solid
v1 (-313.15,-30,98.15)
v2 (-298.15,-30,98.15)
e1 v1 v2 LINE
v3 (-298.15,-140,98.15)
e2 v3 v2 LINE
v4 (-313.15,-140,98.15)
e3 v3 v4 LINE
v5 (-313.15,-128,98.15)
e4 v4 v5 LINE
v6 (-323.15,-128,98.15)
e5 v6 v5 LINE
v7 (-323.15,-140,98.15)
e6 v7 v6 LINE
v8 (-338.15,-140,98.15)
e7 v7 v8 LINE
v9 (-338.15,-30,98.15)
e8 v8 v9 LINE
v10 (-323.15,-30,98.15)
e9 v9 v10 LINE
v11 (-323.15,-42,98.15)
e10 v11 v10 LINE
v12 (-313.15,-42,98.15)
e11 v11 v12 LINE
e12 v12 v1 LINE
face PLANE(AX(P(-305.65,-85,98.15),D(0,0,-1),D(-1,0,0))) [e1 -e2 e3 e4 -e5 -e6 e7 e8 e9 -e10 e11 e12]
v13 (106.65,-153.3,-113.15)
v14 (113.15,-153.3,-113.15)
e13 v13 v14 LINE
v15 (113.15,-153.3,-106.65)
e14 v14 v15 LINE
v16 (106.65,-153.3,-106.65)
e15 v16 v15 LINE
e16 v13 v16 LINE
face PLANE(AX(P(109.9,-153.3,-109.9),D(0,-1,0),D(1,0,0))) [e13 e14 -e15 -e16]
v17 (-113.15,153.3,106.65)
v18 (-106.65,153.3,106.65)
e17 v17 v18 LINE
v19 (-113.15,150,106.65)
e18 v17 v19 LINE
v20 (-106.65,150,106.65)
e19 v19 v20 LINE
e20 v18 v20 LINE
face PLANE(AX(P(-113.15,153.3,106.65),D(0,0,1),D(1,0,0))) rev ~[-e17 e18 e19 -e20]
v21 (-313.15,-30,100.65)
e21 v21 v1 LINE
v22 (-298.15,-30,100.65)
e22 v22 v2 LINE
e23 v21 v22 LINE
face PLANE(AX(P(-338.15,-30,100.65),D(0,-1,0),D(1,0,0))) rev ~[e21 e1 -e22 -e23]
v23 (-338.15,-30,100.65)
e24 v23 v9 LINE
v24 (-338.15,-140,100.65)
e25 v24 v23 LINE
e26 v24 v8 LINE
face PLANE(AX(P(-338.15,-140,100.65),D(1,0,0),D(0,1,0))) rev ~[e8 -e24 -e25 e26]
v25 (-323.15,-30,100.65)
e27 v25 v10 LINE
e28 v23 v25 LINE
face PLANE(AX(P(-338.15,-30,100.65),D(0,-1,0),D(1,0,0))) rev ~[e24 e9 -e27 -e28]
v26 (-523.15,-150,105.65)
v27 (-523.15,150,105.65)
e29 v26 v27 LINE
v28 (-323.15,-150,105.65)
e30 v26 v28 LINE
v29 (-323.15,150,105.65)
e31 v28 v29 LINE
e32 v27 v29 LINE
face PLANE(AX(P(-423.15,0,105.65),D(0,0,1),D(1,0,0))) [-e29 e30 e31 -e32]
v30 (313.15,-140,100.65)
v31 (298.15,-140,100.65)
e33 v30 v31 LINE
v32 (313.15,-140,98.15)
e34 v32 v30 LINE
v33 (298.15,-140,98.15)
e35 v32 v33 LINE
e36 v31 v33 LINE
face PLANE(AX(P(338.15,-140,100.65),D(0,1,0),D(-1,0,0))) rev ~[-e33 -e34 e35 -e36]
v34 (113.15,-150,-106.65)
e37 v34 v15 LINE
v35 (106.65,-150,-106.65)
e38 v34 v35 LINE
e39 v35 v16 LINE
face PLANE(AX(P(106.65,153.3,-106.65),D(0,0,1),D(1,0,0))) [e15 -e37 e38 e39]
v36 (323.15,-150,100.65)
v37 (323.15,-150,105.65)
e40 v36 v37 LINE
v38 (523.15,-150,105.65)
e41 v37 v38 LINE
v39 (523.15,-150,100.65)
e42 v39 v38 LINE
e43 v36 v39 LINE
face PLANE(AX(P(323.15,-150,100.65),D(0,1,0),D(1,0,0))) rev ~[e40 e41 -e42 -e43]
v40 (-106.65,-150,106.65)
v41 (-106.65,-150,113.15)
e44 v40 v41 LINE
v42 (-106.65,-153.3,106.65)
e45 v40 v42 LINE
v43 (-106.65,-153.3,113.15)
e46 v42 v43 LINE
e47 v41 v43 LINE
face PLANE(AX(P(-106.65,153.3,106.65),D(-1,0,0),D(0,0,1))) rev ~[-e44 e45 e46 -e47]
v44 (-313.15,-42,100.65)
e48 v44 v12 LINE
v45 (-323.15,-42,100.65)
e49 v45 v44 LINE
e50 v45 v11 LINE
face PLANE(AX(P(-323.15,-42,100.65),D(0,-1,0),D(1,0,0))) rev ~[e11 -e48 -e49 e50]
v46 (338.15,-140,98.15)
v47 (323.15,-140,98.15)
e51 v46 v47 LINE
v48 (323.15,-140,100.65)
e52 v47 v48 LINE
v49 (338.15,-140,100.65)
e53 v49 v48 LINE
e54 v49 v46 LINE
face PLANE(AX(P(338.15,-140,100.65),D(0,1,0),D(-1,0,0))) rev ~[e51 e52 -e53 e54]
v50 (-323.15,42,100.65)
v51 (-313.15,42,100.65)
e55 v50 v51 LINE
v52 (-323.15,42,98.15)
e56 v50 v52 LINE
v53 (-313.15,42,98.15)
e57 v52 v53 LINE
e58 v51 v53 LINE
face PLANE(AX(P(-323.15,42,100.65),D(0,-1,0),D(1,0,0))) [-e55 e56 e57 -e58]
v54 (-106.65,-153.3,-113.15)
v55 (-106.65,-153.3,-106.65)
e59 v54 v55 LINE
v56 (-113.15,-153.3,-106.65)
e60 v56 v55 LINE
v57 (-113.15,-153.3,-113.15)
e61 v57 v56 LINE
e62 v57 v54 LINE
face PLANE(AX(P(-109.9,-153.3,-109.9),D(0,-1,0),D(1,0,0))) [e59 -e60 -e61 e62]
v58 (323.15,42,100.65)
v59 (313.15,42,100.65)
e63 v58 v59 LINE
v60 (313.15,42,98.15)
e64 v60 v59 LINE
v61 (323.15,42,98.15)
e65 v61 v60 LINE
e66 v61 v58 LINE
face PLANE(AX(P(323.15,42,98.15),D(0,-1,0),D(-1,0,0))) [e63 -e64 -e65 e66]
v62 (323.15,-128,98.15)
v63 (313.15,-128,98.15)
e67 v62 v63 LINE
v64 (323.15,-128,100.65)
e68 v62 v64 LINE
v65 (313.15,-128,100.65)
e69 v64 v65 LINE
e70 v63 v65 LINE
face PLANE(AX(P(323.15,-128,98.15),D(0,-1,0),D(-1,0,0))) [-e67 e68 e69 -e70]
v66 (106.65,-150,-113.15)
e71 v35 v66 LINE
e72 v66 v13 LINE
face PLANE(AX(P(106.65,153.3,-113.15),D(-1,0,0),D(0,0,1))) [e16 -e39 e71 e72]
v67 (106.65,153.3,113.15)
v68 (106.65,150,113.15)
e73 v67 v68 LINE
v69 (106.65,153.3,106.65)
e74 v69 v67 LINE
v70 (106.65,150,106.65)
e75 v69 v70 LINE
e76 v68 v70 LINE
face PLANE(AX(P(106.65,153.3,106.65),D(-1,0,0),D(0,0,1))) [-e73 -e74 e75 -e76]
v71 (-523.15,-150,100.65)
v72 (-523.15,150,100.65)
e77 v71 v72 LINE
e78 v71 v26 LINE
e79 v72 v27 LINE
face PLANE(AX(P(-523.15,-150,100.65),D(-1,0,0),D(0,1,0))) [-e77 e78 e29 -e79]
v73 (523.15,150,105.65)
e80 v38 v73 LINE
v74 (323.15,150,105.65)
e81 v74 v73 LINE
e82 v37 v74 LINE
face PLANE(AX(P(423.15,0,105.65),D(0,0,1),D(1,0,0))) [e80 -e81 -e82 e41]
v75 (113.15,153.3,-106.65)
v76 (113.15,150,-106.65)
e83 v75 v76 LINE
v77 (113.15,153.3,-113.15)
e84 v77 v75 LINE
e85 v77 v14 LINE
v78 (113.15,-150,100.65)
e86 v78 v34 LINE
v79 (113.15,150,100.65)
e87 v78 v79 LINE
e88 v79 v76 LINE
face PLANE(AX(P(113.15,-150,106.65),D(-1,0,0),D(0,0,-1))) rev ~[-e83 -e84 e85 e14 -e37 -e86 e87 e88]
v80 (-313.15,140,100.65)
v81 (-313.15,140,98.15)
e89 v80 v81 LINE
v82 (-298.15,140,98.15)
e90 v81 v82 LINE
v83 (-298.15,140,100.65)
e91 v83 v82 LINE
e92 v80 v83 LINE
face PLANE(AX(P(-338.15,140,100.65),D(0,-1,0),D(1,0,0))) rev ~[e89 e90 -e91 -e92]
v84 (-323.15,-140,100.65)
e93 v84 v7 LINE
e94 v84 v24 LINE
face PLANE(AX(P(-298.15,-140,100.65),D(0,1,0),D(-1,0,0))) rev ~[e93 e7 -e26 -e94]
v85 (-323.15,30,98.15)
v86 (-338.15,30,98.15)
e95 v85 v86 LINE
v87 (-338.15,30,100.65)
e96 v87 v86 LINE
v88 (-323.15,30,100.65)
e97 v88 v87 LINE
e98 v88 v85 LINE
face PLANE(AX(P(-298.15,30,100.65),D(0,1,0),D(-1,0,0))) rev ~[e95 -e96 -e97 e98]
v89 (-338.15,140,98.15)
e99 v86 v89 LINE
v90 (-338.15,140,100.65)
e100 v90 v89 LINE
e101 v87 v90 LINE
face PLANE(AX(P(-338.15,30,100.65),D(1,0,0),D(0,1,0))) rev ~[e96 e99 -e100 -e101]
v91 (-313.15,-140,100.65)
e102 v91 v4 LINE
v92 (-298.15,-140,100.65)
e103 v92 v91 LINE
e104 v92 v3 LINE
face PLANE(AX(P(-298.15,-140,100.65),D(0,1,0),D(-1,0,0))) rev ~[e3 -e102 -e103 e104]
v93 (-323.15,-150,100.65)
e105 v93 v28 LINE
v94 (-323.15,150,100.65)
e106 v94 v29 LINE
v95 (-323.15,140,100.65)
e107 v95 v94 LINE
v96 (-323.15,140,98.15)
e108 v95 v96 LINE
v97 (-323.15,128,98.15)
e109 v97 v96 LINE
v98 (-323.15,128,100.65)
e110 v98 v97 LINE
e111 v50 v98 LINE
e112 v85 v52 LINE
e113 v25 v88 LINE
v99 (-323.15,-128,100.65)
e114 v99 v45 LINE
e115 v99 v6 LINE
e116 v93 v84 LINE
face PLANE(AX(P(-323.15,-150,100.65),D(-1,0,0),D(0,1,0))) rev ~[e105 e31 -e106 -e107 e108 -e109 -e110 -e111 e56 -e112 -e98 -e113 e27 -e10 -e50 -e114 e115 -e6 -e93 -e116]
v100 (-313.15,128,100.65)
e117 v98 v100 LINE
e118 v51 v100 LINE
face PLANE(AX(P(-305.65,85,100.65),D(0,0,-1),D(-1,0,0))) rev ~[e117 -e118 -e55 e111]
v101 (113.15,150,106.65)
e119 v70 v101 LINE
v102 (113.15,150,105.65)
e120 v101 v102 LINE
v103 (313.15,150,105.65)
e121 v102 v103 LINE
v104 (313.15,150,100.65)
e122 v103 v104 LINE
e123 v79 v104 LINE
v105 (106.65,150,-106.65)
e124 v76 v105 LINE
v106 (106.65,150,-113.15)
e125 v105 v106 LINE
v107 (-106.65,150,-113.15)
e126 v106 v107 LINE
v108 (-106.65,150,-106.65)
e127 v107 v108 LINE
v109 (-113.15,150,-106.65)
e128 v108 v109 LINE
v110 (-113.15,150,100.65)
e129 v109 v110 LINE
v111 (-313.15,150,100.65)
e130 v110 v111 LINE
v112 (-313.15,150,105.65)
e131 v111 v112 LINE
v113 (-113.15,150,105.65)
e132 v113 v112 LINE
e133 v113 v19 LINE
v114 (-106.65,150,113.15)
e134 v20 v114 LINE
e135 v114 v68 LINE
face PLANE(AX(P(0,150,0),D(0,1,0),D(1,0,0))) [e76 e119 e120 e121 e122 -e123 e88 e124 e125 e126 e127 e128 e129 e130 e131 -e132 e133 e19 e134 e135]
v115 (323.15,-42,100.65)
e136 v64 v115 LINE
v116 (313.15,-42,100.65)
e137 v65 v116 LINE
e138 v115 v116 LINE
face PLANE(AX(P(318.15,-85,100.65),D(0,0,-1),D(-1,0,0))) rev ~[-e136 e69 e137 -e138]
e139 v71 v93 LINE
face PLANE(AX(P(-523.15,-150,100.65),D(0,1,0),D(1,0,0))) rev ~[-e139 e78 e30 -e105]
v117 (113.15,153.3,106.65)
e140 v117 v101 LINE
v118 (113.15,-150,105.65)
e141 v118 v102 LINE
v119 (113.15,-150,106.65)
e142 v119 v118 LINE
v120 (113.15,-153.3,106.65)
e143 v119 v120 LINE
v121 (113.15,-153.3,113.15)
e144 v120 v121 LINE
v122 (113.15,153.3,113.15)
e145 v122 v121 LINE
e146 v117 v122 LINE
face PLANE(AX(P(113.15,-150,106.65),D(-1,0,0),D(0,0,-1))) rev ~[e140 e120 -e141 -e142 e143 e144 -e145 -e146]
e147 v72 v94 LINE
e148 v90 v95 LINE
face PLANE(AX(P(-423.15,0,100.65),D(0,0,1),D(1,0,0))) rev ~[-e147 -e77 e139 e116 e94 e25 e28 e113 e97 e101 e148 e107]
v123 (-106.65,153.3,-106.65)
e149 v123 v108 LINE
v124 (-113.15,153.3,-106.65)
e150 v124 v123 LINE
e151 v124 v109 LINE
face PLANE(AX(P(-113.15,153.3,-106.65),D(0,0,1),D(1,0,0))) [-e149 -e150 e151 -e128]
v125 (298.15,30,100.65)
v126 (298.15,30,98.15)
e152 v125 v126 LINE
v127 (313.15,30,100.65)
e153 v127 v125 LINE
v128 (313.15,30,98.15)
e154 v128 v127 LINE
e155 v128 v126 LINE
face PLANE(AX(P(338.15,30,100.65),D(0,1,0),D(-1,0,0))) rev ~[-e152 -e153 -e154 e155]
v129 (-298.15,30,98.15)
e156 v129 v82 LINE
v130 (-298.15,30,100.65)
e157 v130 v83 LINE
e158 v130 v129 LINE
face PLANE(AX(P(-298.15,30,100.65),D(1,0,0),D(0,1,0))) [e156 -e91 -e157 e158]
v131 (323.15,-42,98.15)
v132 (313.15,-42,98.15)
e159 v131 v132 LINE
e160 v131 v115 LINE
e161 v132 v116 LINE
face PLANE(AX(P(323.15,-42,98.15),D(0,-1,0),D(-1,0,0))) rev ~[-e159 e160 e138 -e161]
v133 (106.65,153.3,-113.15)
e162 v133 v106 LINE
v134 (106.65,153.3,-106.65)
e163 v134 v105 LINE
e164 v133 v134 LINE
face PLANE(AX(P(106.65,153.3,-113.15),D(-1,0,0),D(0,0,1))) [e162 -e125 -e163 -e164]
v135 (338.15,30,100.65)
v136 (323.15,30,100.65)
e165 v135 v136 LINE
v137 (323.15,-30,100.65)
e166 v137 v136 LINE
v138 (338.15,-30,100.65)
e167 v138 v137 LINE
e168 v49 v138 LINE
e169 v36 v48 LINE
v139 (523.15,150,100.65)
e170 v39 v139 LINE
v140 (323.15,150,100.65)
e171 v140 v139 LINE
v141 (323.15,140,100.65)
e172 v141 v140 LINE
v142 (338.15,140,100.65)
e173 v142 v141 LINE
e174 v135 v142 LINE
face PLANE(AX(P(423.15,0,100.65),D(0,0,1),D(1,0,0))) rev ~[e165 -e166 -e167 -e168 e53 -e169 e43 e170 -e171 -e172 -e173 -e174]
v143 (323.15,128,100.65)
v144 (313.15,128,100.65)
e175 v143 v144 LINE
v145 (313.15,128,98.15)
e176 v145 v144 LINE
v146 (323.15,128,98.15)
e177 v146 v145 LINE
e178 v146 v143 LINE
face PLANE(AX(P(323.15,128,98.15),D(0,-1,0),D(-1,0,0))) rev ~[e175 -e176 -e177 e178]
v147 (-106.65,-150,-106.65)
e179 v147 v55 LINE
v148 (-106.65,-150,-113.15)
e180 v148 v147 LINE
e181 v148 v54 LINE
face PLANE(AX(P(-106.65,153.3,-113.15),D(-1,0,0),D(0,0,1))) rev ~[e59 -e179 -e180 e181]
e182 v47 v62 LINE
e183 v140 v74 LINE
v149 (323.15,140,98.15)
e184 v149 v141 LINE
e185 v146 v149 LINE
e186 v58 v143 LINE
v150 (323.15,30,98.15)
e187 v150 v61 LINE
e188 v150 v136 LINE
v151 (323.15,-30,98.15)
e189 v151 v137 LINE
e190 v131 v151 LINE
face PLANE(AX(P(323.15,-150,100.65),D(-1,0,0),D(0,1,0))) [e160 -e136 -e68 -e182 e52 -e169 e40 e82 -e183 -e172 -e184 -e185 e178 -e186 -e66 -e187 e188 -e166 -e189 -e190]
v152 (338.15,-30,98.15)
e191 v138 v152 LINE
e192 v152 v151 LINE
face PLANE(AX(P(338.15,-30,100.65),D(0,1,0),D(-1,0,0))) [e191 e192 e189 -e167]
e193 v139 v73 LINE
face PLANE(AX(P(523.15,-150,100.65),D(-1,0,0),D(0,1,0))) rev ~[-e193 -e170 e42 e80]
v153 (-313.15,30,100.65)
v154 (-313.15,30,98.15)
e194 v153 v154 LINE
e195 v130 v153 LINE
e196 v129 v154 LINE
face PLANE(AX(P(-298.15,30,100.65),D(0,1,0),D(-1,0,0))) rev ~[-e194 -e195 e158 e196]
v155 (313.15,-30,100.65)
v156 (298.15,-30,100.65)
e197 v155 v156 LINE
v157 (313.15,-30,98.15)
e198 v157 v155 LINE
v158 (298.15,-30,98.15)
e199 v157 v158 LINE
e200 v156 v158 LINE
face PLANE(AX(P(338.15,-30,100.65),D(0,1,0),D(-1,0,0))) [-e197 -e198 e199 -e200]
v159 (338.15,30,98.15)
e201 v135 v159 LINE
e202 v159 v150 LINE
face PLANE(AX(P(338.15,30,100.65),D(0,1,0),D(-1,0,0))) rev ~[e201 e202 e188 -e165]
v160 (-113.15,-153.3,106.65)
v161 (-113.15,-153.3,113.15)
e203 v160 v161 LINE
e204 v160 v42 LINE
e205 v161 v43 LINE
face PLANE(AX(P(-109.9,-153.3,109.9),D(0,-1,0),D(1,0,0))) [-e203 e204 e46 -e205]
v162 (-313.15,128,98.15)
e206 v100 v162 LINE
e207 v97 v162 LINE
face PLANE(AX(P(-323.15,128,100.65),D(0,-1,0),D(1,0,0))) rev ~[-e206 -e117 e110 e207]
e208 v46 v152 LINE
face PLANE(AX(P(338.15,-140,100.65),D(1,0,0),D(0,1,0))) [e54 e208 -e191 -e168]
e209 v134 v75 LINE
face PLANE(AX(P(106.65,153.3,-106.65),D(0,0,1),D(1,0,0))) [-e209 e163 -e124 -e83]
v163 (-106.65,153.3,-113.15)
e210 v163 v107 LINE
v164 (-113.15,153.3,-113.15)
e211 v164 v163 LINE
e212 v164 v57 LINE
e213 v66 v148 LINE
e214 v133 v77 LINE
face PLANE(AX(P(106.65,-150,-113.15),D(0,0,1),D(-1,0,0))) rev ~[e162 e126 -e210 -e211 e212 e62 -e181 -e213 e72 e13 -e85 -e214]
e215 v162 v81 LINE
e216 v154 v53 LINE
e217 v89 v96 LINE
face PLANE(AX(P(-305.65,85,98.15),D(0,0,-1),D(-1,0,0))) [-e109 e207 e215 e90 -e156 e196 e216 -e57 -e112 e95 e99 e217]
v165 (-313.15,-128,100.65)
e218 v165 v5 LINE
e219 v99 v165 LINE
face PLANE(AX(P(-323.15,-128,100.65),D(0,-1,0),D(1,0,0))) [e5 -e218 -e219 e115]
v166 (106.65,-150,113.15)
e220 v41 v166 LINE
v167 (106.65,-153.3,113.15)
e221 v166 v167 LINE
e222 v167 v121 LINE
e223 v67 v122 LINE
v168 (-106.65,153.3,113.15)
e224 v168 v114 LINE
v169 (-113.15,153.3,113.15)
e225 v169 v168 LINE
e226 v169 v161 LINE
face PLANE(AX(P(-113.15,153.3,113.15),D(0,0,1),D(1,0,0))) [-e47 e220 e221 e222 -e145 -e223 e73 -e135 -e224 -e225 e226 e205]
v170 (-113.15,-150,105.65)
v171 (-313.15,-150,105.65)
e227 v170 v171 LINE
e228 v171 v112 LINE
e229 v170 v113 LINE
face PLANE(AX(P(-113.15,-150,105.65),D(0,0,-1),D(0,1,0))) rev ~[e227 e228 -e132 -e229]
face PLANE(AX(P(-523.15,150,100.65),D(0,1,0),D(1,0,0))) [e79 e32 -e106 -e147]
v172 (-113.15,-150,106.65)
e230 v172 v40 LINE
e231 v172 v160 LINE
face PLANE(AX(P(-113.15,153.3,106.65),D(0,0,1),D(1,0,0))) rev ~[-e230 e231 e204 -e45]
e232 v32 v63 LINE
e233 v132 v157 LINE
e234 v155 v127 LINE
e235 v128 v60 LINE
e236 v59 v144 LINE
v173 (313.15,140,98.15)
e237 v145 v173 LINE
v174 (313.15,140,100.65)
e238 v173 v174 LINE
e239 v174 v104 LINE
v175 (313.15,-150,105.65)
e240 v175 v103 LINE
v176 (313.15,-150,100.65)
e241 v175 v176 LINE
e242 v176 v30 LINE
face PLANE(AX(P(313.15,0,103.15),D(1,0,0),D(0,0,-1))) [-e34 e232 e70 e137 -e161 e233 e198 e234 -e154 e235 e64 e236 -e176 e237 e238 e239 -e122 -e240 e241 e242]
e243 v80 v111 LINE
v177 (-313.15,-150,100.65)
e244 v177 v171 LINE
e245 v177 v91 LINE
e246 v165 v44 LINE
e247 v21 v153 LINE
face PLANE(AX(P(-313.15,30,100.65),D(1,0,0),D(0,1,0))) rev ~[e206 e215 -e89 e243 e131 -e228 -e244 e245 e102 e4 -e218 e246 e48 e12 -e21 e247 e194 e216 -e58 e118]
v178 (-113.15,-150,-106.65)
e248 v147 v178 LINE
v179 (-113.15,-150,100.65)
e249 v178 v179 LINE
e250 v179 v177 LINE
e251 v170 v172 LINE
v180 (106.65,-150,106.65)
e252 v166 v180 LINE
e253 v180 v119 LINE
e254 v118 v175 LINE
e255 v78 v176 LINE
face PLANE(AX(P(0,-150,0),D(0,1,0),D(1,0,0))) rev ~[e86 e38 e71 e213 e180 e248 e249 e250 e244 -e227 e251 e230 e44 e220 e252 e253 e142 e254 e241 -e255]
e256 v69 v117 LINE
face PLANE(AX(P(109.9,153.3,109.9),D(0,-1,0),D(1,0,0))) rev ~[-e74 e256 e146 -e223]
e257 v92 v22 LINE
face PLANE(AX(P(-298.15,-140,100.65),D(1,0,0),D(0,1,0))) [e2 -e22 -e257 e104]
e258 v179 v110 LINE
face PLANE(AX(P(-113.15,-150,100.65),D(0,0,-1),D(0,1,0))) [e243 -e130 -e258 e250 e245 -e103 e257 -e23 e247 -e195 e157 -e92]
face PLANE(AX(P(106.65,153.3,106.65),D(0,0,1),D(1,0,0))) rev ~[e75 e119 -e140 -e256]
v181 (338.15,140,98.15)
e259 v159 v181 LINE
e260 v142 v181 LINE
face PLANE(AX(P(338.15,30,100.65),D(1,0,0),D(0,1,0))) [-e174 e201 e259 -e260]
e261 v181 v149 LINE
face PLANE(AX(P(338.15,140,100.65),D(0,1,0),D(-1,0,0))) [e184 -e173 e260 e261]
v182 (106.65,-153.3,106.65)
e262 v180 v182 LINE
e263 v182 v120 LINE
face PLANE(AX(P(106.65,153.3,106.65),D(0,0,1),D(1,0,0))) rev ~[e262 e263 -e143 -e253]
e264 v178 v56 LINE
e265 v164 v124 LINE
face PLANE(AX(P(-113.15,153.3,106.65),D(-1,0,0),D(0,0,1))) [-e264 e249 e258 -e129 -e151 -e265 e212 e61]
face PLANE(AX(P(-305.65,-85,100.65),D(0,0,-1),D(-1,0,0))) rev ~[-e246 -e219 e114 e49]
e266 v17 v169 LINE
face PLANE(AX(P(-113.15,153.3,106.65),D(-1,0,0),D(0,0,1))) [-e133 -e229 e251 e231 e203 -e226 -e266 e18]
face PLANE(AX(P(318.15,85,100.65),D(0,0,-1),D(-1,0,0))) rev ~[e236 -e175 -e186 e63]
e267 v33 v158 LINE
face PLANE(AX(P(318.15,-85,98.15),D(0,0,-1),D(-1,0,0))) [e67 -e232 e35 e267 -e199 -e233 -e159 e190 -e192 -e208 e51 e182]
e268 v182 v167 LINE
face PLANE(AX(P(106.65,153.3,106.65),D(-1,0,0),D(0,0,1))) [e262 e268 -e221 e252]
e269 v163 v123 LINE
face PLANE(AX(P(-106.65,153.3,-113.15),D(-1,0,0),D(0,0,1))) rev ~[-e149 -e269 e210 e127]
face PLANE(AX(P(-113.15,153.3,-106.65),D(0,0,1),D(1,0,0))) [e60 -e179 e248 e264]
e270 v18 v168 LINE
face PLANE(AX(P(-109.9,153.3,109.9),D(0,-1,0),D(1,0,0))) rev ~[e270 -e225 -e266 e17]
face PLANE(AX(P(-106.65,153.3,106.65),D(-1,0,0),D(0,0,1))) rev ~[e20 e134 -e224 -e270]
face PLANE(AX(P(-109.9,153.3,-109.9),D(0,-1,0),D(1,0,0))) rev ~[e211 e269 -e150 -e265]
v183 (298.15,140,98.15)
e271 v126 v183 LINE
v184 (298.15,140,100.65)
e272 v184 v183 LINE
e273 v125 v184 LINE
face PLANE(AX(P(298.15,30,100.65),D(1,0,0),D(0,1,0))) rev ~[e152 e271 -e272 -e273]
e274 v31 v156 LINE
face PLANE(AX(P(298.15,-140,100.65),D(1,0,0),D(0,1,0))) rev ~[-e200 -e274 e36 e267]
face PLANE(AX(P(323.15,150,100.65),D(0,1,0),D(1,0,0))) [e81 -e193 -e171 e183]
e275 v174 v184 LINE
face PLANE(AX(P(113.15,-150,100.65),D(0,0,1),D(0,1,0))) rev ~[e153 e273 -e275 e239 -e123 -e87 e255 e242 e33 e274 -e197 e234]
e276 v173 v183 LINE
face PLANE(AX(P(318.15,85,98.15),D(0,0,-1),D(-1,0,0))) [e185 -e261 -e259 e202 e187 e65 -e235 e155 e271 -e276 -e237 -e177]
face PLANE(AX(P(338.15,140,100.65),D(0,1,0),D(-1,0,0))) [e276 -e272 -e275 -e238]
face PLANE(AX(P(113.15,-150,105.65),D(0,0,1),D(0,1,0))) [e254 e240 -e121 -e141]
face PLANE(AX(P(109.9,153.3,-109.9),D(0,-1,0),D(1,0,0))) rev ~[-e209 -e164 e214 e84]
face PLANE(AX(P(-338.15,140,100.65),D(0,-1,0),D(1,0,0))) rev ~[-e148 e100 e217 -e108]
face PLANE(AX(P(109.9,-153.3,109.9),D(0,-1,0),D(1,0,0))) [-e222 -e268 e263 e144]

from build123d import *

# Parameters (mm, degrees)
ESTRUSIONE_ESTRUSIONE2_DEPTH      = 150
ESTRUSIONE_ESTRUSIONE2_DEPTH_BACK = 150
ESTRUSIONE_ESTRUSIONE3_DEPTH      = 3.3
ESTRUSIONE_ESTRUSIONE3_DEPTH_BACK = 303.3
SCHIZZO3_W                        = 6.5
SCHIZZO3_H                        = 6.5
SCHIZZO5_W                        = 5
SCHIZZO5_H                        = 300
ESTRUSIONE_ESTRUSIONE4_DEPTH      = 200
SCHIZZO6_W                        = 40
SCHIZZO6_H                        = 110
ESTRUSIONE_ESTRUSIONE5_DEPTH      = 2.5
SCHIZZO7_W                        = 10
SCHIZZO7_H                        = 12
TAGLIO_ESTRUSIONE1_DEPTH          = 2.5
SCHIZZO8_W                        = 200
SCHIZZO8_H                        = 300
ESTRUSIONE_ESTRUSIONE6_DEPTH      = 5
SCHIZZO11_W                       = 5
SCHIZZO11_H                       = 300
ESTRUSIONE_ESTRUSIONE8_DEPTH      = 200
SCHIZZO12_W                       = 40
SCHIZZO12_H                       = 110
ESTRUSIONE_ESTRUSIONE9_DEPTH      = 2.5
SCHIZZO13_W                       = 10
SCHIZZO13_H                       = 12
TAGLIO_ESTRUSIONE2_DEPTH          = 2.5
SCHIZZO14_W                       = 200
SCHIZZO14_H                       = 300
ESTRUSIONE_ESTRUSIONE10_DEPTH     = 5


with BuildPart() as part:
    # Schizzo2 → Estrusione-Estrusione2 (new, two sides: drawn at the far end of the back side and taken through both)
    with BuildSketch(Plane(origin=(0, 0, 0), x_dir=(1, 0, 0), z_dir=(0, 1, 0)).offset(-ESTRUSIONE_ESTRUSIONE2_DEPTH_BACK)):
        Polygon((-113.15, 106.65), (-113.15, -106.65), (-106.65, -106.65), (-106.65, -113.15), (106.65, -113.15), (106.65, -106.65), (113.15, -106.65), (113.15, 106.65), (106.65, 106.65), (106.65, 113.15), (-106.65, 113.15), (-106.65, 106.65), align=None)
    extrude(amount=ESTRUSIONE_ESTRUSIONE2_DEPTH + ESTRUSIONE_ESTRUSIONE2_DEPTH_BACK)

    # Schizzo3 → Estrusione-Estrusione3 (add, two sides: drawn at the far end of the back side and taken through both)
    with BuildSketch(Plane.XZ.offset(150).offset(-ESTRUSIONE_ESTRUSIONE3_DEPTH_BACK)):
        with Locations((-109.9, 109.9)):
            Rectangle(SCHIZZO3_W, SCHIZZO3_H)
        with Locations((109.9, 109.9)):
            Rectangle(SCHIZZO3_W, SCHIZZO3_H)
        with Locations((109.9, -109.9)):
            Rectangle(SCHIZZO3_W, SCHIZZO3_H)
        with Locations((-109.9, -109.9)):
            Rectangle(SCHIZZO3_W, SCHIZZO3_H)
    extrude(amount=ESTRUSIONE_ESTRUSIONE3_DEPTH + ESTRUSIONE_ESTRUSIONE3_DEPTH_BACK)

    # Schizzo5 → Estrusione-Estrusione4 (add)
    with BuildSketch(Plane.ZY.offset(113.15)):
        with Locations((103.15, 0)):
            Rectangle(SCHIZZO5_W, SCHIZZO5_H)
    extrude(amount=ESTRUSIONE_ESTRUSIONE4_DEPTH)

    # Schizzo6 → Estrusione-Estrusione5 (add)
    with BuildSketch(Plane(origin=(0, 0, 100.65), x_dir=(-1, 0, 0), z_dir=(0, 0, -1))):
        with Locations((318.15, -85)):
            Rectangle(SCHIZZO6_W, SCHIZZO6_H)
        with Locations((318.15, 85)):
            Rectangle(SCHIZZO6_W, SCHIZZO6_H)
    extrude(amount=ESTRUSIONE_ESTRUSIONE5_DEPTH)

    # Schizzo7 → Taglio-Estrusione1 (cut)
    with BuildSketch(Plane.XY.offset(100.65)):
        with Locations((-318.15, 134)):
            Rectangle(SCHIZZO7_W, SCHIZZO7_H)
        with Locations((-318.15, 36)):
            Rectangle(SCHIZZO7_W, SCHIZZO7_H)
        with Locations((-318.15, -36)):
            Rectangle(SCHIZZO7_W, SCHIZZO7_H)
        with Locations((-318.15, -134)):
            Rectangle(SCHIZZO7_W, SCHIZZO7_H)
    extrude(amount=-TAGLIO_ESTRUSIONE1_DEPTH, mode=Mode.SUBTRACT)

    # Schizzo8 → Estrusione-Estrusione6 (add)
    with BuildSketch(Plane.XY.offset(100.65)):
        with Locations((-423.15, 0)):
            Rectangle(SCHIZZO8_W, SCHIZZO8_H)
    extrude(amount=ESTRUSIONE_ESTRUSIONE6_DEPTH)

    # Schizzo11 → Estrusione-Estrusione8 (add)
    with BuildSketch(Plane(origin=(113.15, 0, 0), x_dir=(0, 0, -1), z_dir=(1, 0, 0))):
        with Locations((-103.15, 0)):
            Rectangle(SCHIZZO11_W, SCHIZZO11_H)
    extrude(amount=ESTRUSIONE_ESTRUSIONE8_DEPTH)

    # Schizzo12 → Estrusione-Estrusione9 (add)
    with BuildSketch(Plane(origin=(0, 0, 100.65), x_dir=(-1, 0, 0), z_dir=(0, 0, -1))):
        with Locations((-318.15, 85)):
            Rectangle(SCHIZZO12_W, SCHIZZO12_H)
        with Locations((-318.15, -85)):
            Rectangle(SCHIZZO12_W, SCHIZZO12_H)
    extrude(amount=ESTRUSIONE_ESTRUSIONE9_DEPTH)

    # Schizzo13 → Taglio-Estrusione2 (cut)
    with BuildSketch(Plane(origin=(0, 0, 98.15), x_dir=(-1, 0, 0), z_dir=(0, 0, -1))):
        with Locations((-318.15, 134)):
            Rectangle(SCHIZZO13_W, SCHIZZO13_H)
        with Locations((-318.15, 36)):
            Rectangle(SCHIZZO13_W, SCHIZZO13_H)
        with Locations((-318.15, -36)):
            Rectangle(SCHIZZO13_W, SCHIZZO13_H)
        with Locations((-318.15, -134)):
            Rectangle(SCHIZZO13_W, SCHIZZO13_H)
    extrude(amount=-TAGLIO_ESTRUSIONE2_DEPTH, mode=Mode.SUBTRACT)

    # Schizzo14 → Estrusione-Estrusione10 (add)
    with BuildSketch(Plane.XY.offset(100.65)):
        with Locations((423.15, 0)):
            Rectangle(SCHIZZO14_W, SCHIZZO14_H)
    extrude(amount=ESTRUSIONE_ESTRUSIONE10_DEPTH)


solid = part.part
